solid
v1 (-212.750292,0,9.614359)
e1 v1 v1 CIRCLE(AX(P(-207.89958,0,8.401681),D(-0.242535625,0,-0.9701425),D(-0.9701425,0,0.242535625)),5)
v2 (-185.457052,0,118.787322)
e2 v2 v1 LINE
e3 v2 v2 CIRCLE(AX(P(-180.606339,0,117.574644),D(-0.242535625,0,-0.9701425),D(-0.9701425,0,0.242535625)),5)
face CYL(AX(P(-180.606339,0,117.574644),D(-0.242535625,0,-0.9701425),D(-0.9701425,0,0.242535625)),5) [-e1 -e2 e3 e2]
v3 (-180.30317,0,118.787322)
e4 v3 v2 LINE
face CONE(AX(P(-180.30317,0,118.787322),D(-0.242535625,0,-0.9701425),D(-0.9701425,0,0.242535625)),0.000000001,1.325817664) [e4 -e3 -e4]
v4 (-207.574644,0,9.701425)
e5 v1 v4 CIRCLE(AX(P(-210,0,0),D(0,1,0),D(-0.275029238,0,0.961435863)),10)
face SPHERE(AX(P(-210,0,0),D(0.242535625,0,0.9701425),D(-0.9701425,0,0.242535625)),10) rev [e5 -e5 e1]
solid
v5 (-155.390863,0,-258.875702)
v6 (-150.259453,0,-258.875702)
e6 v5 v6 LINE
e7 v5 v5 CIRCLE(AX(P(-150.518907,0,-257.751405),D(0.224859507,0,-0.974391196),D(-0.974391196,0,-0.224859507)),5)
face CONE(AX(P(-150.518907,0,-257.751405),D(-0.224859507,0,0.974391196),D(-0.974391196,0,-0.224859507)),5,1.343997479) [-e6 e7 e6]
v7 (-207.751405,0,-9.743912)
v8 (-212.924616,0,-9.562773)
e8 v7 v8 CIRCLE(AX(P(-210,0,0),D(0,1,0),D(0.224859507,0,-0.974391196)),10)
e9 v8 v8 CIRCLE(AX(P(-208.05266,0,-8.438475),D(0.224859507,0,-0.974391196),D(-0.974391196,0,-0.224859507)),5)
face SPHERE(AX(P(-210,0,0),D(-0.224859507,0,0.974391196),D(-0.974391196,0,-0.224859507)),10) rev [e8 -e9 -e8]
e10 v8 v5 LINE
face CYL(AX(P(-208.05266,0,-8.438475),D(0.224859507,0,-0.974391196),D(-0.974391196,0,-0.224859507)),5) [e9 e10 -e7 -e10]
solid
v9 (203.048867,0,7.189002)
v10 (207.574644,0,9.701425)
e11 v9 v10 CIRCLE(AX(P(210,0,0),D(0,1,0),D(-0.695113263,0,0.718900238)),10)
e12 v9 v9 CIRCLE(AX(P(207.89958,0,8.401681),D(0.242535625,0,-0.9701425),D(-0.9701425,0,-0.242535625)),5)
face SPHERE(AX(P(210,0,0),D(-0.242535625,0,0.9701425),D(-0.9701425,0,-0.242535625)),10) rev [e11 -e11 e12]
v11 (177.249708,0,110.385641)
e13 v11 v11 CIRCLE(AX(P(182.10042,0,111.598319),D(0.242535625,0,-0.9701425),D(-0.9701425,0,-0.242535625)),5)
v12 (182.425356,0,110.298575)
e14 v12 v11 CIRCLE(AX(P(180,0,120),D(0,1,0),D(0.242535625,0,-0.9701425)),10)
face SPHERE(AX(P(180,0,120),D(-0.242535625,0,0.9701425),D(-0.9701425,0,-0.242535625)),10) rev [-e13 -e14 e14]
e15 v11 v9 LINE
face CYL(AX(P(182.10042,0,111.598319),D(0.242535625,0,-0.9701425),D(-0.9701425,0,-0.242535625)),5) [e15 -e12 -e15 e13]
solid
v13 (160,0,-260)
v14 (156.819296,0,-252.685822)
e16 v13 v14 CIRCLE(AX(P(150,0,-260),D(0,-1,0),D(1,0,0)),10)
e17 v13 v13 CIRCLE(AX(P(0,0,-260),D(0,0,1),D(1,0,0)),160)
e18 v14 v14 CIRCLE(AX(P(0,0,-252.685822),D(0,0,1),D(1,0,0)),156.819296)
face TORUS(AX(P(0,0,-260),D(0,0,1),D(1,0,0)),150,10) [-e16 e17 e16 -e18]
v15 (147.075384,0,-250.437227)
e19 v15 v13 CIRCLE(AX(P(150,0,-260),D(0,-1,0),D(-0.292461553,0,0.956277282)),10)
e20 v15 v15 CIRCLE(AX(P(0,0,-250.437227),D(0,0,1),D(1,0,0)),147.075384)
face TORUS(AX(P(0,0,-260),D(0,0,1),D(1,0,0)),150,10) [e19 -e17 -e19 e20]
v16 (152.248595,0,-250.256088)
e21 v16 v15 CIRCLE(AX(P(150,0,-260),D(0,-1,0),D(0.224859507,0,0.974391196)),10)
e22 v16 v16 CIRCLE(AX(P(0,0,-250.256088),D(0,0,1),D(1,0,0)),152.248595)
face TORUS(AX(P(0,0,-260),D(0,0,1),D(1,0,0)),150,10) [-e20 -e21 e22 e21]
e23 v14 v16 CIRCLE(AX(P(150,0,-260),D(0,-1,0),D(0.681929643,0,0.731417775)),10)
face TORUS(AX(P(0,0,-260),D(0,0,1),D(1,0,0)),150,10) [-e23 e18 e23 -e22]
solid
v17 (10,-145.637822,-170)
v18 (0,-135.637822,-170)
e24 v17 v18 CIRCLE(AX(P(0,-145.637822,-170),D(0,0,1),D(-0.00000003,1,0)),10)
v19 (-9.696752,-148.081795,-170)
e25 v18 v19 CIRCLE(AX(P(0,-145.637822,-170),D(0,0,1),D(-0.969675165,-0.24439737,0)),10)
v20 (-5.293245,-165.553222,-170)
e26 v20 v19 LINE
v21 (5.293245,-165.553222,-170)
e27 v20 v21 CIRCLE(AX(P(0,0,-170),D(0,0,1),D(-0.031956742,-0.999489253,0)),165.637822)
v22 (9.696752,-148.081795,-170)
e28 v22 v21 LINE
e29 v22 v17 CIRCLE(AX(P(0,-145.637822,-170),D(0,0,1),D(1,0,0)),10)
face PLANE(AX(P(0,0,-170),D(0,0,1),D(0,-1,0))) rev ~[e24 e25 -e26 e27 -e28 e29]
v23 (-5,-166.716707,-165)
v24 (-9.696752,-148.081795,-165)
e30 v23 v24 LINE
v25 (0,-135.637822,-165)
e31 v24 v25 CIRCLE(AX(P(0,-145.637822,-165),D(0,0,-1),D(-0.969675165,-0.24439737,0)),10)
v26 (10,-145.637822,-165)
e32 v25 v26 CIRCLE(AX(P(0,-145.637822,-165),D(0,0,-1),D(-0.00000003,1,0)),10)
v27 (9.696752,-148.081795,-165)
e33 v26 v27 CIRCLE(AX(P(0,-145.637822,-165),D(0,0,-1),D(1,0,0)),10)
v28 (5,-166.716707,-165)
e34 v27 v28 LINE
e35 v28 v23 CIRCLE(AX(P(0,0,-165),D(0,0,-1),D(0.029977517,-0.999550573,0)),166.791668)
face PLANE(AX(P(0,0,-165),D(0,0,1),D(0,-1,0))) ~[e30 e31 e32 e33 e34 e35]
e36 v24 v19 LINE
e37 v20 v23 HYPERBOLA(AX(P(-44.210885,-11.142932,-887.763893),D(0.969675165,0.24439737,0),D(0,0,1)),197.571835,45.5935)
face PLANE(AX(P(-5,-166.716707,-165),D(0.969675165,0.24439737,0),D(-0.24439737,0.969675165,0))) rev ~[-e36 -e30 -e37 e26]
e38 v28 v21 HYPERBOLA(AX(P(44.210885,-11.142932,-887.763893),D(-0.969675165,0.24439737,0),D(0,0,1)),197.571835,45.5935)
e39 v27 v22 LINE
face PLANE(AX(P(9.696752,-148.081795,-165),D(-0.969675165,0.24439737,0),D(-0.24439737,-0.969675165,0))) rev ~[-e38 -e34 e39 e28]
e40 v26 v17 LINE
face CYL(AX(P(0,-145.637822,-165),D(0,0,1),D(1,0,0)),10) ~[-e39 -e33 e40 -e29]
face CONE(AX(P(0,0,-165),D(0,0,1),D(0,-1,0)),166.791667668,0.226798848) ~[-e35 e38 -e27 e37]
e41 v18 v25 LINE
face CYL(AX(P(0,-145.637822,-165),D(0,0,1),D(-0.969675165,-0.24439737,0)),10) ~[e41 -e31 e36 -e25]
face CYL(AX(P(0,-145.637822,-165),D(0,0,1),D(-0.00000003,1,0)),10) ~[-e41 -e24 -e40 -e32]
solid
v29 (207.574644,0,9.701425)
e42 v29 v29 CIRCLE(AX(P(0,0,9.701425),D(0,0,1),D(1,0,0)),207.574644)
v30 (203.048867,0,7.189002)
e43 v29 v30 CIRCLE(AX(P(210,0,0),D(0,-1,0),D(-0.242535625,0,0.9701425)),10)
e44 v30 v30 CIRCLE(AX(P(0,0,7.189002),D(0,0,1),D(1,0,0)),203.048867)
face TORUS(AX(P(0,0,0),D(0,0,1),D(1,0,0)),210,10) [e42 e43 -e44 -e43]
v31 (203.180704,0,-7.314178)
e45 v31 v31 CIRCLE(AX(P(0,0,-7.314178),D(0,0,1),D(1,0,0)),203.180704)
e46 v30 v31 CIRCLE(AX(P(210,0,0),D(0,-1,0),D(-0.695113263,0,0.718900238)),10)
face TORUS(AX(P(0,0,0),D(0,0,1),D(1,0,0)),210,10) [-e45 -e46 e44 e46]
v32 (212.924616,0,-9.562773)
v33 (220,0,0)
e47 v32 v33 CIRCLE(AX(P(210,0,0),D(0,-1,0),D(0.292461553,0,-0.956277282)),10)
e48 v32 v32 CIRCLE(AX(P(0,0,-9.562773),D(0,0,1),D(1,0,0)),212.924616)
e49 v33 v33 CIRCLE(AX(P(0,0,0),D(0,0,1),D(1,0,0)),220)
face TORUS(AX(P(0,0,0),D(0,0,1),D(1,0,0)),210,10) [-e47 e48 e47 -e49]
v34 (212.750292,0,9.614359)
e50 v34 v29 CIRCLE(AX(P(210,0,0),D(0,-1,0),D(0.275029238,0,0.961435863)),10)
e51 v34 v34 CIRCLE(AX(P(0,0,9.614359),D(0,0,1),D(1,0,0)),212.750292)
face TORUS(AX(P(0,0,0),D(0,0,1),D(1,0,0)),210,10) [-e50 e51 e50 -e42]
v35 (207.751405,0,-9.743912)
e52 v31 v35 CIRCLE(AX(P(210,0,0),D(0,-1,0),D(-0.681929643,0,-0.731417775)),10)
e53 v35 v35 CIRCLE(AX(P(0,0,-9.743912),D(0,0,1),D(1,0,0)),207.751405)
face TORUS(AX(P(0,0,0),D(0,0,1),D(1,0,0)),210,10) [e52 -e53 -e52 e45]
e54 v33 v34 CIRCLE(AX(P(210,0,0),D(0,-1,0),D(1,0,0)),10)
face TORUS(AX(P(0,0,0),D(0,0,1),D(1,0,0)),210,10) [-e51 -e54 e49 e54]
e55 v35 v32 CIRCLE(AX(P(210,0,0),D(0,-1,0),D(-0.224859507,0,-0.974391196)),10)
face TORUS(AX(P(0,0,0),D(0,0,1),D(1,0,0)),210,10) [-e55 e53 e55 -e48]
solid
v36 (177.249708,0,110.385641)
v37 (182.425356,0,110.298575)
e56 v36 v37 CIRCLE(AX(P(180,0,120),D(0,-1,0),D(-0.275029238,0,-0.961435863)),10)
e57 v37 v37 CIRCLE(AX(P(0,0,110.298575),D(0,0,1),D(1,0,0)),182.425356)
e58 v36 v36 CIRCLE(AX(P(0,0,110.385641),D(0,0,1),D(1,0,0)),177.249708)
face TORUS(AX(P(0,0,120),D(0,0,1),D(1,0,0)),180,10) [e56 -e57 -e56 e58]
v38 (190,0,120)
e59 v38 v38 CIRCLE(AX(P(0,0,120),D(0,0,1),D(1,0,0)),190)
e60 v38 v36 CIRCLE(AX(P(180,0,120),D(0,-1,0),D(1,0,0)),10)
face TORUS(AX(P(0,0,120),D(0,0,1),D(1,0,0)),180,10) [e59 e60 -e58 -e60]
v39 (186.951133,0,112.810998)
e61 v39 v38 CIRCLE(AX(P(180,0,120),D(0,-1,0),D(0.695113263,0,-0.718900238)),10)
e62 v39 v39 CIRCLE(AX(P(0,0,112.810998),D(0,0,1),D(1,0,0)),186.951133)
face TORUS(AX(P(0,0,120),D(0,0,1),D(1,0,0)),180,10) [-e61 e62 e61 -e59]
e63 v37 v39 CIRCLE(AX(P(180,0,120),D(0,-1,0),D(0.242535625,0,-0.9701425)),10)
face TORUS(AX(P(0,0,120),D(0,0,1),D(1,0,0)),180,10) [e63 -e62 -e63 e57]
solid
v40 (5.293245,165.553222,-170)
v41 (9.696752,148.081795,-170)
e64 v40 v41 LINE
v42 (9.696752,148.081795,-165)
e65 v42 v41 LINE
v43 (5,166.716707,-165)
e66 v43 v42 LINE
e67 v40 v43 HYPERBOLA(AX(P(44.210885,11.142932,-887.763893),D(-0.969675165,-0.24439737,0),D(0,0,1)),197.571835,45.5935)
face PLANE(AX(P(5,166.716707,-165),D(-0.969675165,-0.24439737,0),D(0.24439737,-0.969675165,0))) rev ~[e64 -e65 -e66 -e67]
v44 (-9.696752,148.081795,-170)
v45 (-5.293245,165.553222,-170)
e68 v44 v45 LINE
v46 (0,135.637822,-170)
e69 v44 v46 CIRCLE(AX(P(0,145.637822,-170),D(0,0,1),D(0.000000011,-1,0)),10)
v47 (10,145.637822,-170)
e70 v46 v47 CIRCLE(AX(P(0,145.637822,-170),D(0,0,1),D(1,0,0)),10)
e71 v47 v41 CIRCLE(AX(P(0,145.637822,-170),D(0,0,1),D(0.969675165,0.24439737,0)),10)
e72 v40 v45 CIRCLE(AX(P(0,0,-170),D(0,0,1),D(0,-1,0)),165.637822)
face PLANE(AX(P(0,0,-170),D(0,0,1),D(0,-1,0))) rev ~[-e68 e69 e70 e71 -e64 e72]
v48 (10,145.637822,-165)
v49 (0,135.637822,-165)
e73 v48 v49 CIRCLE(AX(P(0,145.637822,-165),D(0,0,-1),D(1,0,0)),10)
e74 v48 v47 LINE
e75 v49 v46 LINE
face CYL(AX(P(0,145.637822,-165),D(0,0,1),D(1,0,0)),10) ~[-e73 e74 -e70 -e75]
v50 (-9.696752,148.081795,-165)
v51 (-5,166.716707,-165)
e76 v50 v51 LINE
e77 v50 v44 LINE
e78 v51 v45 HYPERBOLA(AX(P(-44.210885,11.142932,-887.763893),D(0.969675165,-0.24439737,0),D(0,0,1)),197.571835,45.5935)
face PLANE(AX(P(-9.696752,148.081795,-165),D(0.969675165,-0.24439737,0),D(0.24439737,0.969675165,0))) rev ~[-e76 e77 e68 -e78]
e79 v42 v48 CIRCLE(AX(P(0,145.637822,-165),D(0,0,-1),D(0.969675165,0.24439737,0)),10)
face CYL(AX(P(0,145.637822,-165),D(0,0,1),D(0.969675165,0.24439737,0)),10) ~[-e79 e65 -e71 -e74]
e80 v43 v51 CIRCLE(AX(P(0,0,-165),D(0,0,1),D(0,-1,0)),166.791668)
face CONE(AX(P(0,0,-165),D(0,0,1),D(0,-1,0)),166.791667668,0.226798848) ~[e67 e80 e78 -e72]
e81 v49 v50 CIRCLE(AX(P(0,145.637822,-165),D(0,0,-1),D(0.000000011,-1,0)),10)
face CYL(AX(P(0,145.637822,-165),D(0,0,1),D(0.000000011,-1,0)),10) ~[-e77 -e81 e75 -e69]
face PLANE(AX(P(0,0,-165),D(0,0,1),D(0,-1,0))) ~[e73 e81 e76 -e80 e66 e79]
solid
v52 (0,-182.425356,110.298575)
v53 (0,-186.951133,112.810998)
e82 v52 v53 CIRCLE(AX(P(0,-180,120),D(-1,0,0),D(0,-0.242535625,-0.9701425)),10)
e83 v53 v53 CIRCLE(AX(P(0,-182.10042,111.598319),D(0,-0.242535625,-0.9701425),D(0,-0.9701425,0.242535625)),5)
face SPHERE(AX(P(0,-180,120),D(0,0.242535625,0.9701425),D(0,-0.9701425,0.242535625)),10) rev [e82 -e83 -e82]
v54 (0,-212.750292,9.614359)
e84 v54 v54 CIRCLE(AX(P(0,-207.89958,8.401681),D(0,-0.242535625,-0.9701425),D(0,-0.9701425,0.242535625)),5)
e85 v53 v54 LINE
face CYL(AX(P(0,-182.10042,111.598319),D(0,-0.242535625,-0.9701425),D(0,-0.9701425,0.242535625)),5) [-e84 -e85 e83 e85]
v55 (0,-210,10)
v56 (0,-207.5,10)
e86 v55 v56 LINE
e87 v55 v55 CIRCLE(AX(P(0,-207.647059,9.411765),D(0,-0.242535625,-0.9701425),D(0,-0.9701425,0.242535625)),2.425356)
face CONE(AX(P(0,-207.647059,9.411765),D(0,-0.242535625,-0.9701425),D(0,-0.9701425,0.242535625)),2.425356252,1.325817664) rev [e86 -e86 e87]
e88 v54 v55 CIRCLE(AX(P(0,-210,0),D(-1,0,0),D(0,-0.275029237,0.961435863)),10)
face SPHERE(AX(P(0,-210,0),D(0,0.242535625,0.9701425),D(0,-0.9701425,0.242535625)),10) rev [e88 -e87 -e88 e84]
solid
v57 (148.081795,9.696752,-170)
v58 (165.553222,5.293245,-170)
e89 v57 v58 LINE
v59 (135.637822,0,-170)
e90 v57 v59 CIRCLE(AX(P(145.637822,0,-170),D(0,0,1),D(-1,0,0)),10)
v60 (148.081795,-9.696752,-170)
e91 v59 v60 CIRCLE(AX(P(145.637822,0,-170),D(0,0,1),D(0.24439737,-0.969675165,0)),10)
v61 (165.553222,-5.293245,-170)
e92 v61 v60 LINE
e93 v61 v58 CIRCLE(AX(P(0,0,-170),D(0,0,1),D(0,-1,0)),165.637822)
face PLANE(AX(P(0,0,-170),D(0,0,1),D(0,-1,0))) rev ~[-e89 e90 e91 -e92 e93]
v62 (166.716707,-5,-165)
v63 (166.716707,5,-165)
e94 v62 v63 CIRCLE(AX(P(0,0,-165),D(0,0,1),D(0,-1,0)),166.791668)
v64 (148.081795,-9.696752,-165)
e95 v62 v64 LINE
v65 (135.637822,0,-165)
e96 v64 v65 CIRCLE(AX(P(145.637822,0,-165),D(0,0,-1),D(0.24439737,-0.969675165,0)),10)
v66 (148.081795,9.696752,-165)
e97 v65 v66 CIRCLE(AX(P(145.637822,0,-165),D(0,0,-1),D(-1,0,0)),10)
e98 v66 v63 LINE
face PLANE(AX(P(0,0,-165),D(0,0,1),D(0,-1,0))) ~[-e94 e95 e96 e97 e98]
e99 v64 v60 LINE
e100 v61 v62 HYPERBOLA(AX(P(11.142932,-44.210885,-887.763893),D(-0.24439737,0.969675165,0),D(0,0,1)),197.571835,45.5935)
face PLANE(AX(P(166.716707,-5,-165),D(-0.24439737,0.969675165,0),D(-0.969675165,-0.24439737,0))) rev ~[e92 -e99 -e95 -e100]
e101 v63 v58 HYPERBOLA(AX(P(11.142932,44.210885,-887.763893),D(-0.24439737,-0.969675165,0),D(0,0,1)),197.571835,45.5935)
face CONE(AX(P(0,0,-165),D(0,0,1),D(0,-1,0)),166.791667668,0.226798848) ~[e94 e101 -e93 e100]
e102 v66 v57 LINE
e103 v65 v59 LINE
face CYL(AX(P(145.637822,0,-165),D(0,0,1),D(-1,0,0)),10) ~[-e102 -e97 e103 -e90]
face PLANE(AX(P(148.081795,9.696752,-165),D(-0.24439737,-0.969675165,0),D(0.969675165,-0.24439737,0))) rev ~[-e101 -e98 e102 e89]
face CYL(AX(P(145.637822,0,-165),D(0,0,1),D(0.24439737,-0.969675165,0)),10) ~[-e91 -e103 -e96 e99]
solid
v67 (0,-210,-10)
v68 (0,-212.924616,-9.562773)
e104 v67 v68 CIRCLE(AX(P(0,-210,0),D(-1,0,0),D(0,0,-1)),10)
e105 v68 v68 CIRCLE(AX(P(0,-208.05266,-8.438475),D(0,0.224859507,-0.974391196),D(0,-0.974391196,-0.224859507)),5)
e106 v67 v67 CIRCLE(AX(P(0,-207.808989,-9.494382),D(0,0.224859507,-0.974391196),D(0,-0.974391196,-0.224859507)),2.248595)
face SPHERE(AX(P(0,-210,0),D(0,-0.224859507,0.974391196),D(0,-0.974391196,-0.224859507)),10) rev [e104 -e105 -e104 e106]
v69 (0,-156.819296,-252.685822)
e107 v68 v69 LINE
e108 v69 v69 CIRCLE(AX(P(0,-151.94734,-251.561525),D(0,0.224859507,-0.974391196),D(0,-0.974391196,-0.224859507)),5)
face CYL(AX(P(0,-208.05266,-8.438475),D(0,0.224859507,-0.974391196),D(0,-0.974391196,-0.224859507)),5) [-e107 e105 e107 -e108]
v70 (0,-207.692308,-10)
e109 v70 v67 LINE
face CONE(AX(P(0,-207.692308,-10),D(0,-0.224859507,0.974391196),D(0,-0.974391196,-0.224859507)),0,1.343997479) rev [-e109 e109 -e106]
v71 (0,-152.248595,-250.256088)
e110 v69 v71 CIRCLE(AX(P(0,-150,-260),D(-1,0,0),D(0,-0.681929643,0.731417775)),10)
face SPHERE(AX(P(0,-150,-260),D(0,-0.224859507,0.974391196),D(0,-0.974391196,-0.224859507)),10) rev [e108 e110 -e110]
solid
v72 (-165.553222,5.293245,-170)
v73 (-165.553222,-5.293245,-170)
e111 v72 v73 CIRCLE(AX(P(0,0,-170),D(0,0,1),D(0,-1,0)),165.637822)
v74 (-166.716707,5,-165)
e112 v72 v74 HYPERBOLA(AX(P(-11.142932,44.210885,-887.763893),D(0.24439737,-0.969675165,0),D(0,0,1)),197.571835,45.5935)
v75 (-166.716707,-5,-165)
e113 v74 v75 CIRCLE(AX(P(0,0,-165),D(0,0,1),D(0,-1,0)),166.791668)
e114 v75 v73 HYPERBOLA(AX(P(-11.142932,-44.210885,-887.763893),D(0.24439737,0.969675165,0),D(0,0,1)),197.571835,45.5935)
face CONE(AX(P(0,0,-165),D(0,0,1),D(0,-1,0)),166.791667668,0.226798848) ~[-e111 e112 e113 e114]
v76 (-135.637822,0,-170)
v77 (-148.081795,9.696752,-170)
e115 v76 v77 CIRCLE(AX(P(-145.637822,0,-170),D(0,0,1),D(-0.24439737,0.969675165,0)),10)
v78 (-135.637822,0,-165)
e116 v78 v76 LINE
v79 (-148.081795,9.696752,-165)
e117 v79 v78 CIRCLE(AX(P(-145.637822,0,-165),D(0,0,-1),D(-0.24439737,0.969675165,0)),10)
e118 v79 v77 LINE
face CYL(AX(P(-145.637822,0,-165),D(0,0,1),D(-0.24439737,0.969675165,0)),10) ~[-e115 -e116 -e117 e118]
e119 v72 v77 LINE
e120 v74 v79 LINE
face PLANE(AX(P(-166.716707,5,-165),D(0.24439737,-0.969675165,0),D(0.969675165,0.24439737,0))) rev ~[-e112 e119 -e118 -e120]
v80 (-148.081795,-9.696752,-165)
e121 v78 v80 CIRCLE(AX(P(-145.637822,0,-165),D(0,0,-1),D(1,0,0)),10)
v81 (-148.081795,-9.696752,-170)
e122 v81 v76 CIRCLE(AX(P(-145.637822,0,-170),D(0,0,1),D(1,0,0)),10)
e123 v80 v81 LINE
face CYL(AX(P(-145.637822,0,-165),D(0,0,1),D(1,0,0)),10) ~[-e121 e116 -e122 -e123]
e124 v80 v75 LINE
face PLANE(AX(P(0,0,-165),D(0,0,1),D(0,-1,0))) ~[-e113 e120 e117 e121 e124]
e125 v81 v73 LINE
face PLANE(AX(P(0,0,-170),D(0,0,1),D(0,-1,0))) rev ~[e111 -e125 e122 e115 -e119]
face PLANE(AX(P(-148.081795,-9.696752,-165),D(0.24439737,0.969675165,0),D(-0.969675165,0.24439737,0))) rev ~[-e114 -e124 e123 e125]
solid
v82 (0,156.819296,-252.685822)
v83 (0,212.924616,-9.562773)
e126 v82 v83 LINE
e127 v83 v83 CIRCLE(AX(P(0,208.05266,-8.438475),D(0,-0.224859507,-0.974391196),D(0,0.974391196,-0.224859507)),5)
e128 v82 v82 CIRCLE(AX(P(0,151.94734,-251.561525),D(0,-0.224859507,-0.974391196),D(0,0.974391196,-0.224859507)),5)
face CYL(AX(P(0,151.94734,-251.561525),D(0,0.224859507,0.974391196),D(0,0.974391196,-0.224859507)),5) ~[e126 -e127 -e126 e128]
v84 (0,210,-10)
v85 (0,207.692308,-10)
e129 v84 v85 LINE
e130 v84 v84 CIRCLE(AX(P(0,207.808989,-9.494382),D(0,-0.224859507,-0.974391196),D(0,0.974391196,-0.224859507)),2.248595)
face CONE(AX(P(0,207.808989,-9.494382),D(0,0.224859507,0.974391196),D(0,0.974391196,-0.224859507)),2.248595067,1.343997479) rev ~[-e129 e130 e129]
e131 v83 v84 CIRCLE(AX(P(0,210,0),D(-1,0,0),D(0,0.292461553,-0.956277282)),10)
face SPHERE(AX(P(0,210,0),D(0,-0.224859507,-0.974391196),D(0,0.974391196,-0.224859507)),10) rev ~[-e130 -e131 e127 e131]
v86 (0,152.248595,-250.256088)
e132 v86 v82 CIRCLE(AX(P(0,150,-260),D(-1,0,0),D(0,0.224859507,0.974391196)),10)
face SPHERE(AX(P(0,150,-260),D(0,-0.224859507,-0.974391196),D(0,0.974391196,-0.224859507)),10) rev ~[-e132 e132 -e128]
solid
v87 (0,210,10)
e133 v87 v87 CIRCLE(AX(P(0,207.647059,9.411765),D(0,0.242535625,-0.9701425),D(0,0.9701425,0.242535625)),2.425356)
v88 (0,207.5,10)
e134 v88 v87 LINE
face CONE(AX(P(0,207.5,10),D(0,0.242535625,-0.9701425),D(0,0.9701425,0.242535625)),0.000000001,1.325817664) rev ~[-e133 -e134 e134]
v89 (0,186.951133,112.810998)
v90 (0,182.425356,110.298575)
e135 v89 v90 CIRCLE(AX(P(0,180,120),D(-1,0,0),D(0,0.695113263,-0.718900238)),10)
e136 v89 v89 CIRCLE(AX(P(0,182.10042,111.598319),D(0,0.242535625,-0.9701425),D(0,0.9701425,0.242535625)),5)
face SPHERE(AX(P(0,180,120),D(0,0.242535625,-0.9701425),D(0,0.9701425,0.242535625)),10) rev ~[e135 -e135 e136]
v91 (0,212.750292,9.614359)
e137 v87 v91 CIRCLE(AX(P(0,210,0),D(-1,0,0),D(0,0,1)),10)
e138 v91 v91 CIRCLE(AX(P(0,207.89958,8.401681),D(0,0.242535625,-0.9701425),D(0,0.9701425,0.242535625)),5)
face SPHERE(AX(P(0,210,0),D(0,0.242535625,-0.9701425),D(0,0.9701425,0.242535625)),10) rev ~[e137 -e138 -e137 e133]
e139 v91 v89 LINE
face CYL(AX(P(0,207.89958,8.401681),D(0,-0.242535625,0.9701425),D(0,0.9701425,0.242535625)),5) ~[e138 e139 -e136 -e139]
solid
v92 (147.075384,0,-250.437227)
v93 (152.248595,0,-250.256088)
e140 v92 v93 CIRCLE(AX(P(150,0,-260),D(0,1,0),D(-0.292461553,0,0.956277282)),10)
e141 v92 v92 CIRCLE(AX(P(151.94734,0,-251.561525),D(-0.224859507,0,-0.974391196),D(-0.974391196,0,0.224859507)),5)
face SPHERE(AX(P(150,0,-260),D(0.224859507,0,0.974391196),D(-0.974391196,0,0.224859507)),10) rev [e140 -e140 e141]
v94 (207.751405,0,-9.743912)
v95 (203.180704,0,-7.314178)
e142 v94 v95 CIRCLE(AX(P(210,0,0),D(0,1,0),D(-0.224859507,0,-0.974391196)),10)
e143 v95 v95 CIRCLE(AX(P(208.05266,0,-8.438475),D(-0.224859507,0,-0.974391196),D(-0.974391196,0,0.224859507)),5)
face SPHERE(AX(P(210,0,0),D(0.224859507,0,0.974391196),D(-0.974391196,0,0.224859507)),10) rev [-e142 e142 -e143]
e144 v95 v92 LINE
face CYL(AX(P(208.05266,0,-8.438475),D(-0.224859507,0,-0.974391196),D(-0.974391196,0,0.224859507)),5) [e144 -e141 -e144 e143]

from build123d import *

# Parameters (mm, degrees)
F14_DEPTH = 25


with BuildPart() as f1:
    # F0 (on Front) → F1 (revolve)
    with BuildSketch(Plane.XZ):
        with BuildLine():
            ThreePointArc((182.4253562504, 110.2985749985), (184.8536277952, 111.256871428), (186.9511326268, 112.810997621))
            ThreePointArc((186.9511326268, 112.810997621), (189.2062838938, 116.0956003194), (190, 120))
            ThreePointArc((190, 120), (173.9793241138, 127.9844512569), (177.2497076253, 110.3856413707))
            ThreePointArc((177.2497076253, 110.3856413707), (179.8318006852, 110.0014146505), (182.4253562504, 110.2985749985))
        make_face()
    revolve(axis=Axis((0, 0, 276.8834233284), (0, 0, 1)))


with BuildPart() as f1b:
    # F0 (on Front) → F1, piece 2 (revolve)
    with BuildSketch(Plane.XZ):
        with BuildLine():
            ThreePointArc((212.9246155276, -9.5627728204), (218.0388480293, -5.9478502303), (220, 0))
            ThreePointArc((220, 0), (217.9844512569, 6.0206758862), (212.7502923747, 9.6143586293))
            ThreePointArc((212.7502923747, 9.6143586293), (210.1681993148, 9.9985853495), (207.5746437496, 9.7014250015))
            ThreePointArc((207.5746437496, 9.7014250015), (205.1463722048, 8.743128572), (203.0488673732, 7.189002379))
            ThreePointArc((203.0488673732, 7.189002379), (200.0004131293, -0.0908978236), (203.1807035707, -7.3141777535))
            ThreePointArc((203.1807035707, -7.3141777535), (205.3061139637, -8.8299169802), (207.751404933, -9.7439119569))
            ThreePointArc((207.751404933, -9.7439119569), (210.3499339402, -9.9938754364), (212.9246155276, -9.5627728204))
        make_face()
    revolve(axis=Axis((0, 0, 276.8834233284), (0, 0, 1)))


with BuildPart() as f1c:
    # F0 (on Front) → F1, piece 3 (revolve)
    with BuildSketch(Plane.XZ):
        with BuildLine():
            ThreePointArc((160, -260), (159.170413412, -256.0120785046), (156.8192964293, -252.6858222465))
            ThreePointArc((156.8192964293, -252.6858222465), (154.6938860363, -251.1700830198), (152.248595067, -250.2560880431))
            ThreePointArc((152.248595067, -250.2560880431), (149.6500660598, -250.0061245636), (147.0753844724, -250.4372271796))
            ThreePointArc((147.0753844724, -250.4372271796), (144.0521497697, -268.0388480293), (160, -260))
        make_face()
    revolve(axis=Axis((0, 0, 276.8834233284), (0, 0, 1)))


with BuildPart() as f2:
    # F0 (on Front) → F2 (revolve)
    with BuildSketch(Plane.XZ):
        with BuildLine():
            ThreePointArc((203.0488673732, 7.189002379), (205.1463722048, 8.743128572), (207.5746437496, 9.7014250015))
            Line((207.5746437496, 9.7014250015), (182.4253562504, 110.2985749985))
            ThreePointArc((182.4253562504, 110.2985749985), (179.8318006852, 110.0014146505), (177.2497076253, 110.3856413707))
            Line((177.2497076253, 110.3856413707), (203.0488673732, 7.189002379))
        make_face()
    revolve(axis=Axis((195, 0, 60), (0.242535625, 0, -0.9701425001)))


with BuildPart() as f3:
    # F0 (on Front) → F3 (revolve)
    with BuildSketch(Plane.XZ):
        with BuildLine():
            Line((152.248595067, -250.2560880431), (207.751404933, -9.7439119569))
            ThreePointArc((207.751404933, -9.7439119569), (205.3061139637, -8.8299169802), (203.1807035707, -7.3141777535))
            Line((203.1807035707, -7.3141777535), (147.0753844724, -250.4372271796))
            ThreePointArc((147.0753844724, -250.4372271796), (149.6500660598, -250.0061245636), (152.248595067, -250.2560880431))
        make_face()
    revolve(axis=Axis((180, 0, -130), (-0.2248595067, 0, -0.9743911957)))


with BuildPart() as f4:
    # F0 (on Front) → F4 (revolve)
    with BuildSketch(Plane.XZ):
        with BuildLine():
            Line((-207.5746437496, 9.7014250015), (-180.3031695313, 118.7873218748))
            Line((-180.3031695313, 118.7873218748), (-185.4570515633, 118.7873218748))
            Line((-185.4570515633, 118.7873218748), (-212.7502923747, 9.6143586293))
            ThreePointArc((-212.7502923747, 9.6143586293), (-210.1681993148, 9.9985853495), (-207.5746437496, 9.7014250015))
        make_face()
    revolve(axis=Axis((-193.7873218748, 0, 64.8507125007), (-0.242535625, 0, -0.9701425001)))


with BuildPart() as f5:
    # F0 (on Front) → F5 (revolve)
    with BuildSketch(Plane.XZ):
        with BuildLine():
            Line((-150.259453277, -258.8757024665), (-207.751404933, -9.7439119569))
            ThreePointArc((-207.751404933, -9.7439119569), (-210.3499339402, -9.9938754364), (-212.9246155276, -9.5627728204))
            Line((-212.9246155276, -9.5627728204), (-155.3908625324, -258.8757024665))
            Line((-155.3908625324, -258.8757024665), (-150.259453277, -258.8757024665))
        make_face()
    revolve(axis=Axis((-178.8757024665, 0, -134.8719559785), (0.2248595067, 0, -0.9743911957)))


with BuildPart() as f7:
    # F6 (on Right) → F7 (revolve)
    with BuildSketch(Plane.YZ):
        with BuildLine():
            Line((-186.9511326268, 112.810997621), (-212.7502923747, 9.6143586293))
            ThreePointArc((-212.7502923747, 9.6143586293), (-211.3885988813, 9.9031203742), (-210, 10))
            Line((-210, 10), (-207.5, 10))
            Line((-207.5, 10), (-182.4253562504, 110.2985749985))
            ThreePointArc((-182.4253562504, 110.2985749985), (-184.8536277952, 111.256871428), (-186.9511326268, 112.810997621))
        make_face()
    revolve(axis=Axis((0, -195, 60), (0, -0.242535625, -0.9701425001)))


with BuildPart() as f8:
    # F6 (on Right) → F8 (revolve)
    with BuildSketch(Plane.YZ):
        with BuildLine():
            Line((-207.6923076923, -10), (-210, -10))
            ThreePointArc((-210, -10), (-211.4785587231, -9.8900891858), (-212.9246155276, -9.5627728204))
            Line((-212.9246155276, -9.5627728204), (-156.8192964293, -252.6858222465))
            ThreePointArc((-156.8192964293, -252.6858222465), (-154.6938860363, -251.1700830198), (-152.248595067, -250.2560880431))
            Line((-152.248595067, -250.2560880431), (-207.6923076923, -10))
        make_face()
    revolve(axis=Axis((0, -180, -130), (0, 0.2248595067, -0.9743911957)))


with BuildPart() as f9:
    # F6 (on Right) → F9 (revolve)
    with BuildSketch(Plane.YZ):
        with BuildLine():
            Line((182.4253562504, 110.2985749985), (207.5, 10))
            Line((207.5, 10), (210, 10))
            ThreePointArc((210, 10), (211.3885988813, 9.9031203742), (212.7502923747, 9.6143586293))
            Line((212.7502923747, 9.6143586293), (186.9511326268, 112.810997621))
            ThreePointArc((186.9511326268, 112.810997621), (184.8536277952, 111.256871428), (182.4253562504, 110.2985749985))
        make_face()
    revolve(axis=Axis((0, 195, 60), (0, 0.242535625, -0.9701425001)))


with BuildPart() as f10:
    # F6 (on Right) → F10 (revolve)
    with BuildSketch(Plane.YZ):
        with BuildLine():
            Line((210, -10), (207.6923076923, -10))
            Line((207.6923076923, -10), (152.248595067, -250.2560880431))
            ThreePointArc((152.248595067, -250.2560880431), (154.6938860363, -251.1700830198), (156.8192964293, -252.6858222465))
            Line((156.8192964293, -252.6858222465), (212.9246155276, -9.5627728204))
            ThreePointArc((212.9246155276, -9.5627728204), (211.4785587231, -9.8900891858), (210, -10))
        make_face()
    revolve(axis=Axis((0, 180, -130), (0, -0.2248595067, -0.9743911957)))


with BuildPart() as f12:
    # F11 (on face) → F12 (revolve)
    with BuildSketch(Plane.YZ):
        Polygon((-166.7916676676, -165), (-165.6378215138, -170), (-135.6378215138, -170), (-135.6378215138, -165), align=None)
    revolve(axis=Axis((0, 0, 276.8834233284), (0, 0, 1)))

    # F13 (on face) → F14 (cut)
    with BuildSketch(Plane.XY.offset(-165)):
        with BuildLine():
            ThreePointArc((10, 145.6378215138), (7.0710678518, 138.5667537419), (1.13e-07, 135.6378215138))
            ThreePointArc((1.13e-07, 135.6378215138), (95.9104234177, 95.9104233378), (135.6378215138, 0))
            ThreePointArc((135.6378215138, 0), (139.4912670709, 7.8879571804), (148.0817952099, 9.6967516506))
            Line((148.0817952099, 9.6967516506), (166.7167070313, 5))
            ThreePointArc((166.7167070313, 5), (117.9395192532, 117.9395192532), (5, 166.7167070313))
            Line((5, 166.7167070313), (9.6967516506, 148.0817952099))
            ThreePointArc((9.6967516506, 148.0817952099), (9.9238983395, 146.8691791983), (10, 145.6378215138))
        make_face()
        with BuildLine():
            ThreePointArc((135.6378215138, 0), (95.9104232732, -95.9104234824), (-2.959e-07, -135.6378215138))
            ThreePointArc((-2.959e-07, -135.6378215138), (7.0710677072, -138.5667535973), (10, -145.6378215138))
            ThreePointArc((10, -145.6378215138), (9.9238983395, -146.8691791983), (9.6967516506, -148.0817952099))
            Line((9.6967516506, -148.0817952099), (5, -166.7167070313))
            ThreePointArc((5, -166.7167070313), (117.9395192532, -117.9395192532), (166.7167070313, -5))
            Line((166.7167070313, -5), (148.0817952099, -9.6967516506))
            ThreePointArc((148.0817952099, -9.6967516506), (139.4912670709, -7.8879571804), (135.6378215138, 0))
        make_face()
        with BuildLine():
            ThreePointArc((-2.959e-07, -135.6378215138), (-95.9104234824, -95.9104232732), (-135.6378215138, 0))
            ThreePointArc((-135.6378215138, 0), (-139.4912670709, -7.8879571804), (-148.0817952099, -9.6967516506))
            Line((-148.0817952099, -9.6967516506), (-166.7167070313, -5))
            ThreePointArc((-166.7167070313, -5), (-117.9395192532, -117.9395192532), (-5, -166.7167070313))
            Line((-5, -166.7167070313), (-9.6967516506, -148.0817952099))
            ThreePointArc((-9.6967516506, -148.0817952099), (-7.8879572714, -139.4912671876), (-2.959e-07, -135.6378215138))
        make_face()
        with BuildLine():
            ThreePointArc((-148.0817952099, 9.6967516506), (-139.4912670709, 7.8879571804), (-135.6378215138, 0))
            ThreePointArc((-135.6378215138, 0), (-95.9104233378, 95.9104234177), (1.13e-07, 135.6378215138))
            ThreePointArc((1.13e-07, 135.6378215138), (-7.8879571457, 139.4912670263), (-9.6967516506, 148.0817952099))
            Line((-9.6967516506, 148.0817952099), (-5, 166.7167070313))
            ThreePointArc((-5, 166.7167070313), (-117.9395192532, 117.9395192532), (-166.7167070313, 5))
            Line((-166.7167070313, 5), (-148.0817952099, 9.6967516506))
        make_face()
    extrude(amount=-F14_DEPTH, mode=Mode.SUBTRACT)


solid = Compound([f1.part, f1b.part, f1c.part, f2.part, f3.part, f4.part, f5.part, f7.part, f8.part, f9.part, f10.part, f12.part])
